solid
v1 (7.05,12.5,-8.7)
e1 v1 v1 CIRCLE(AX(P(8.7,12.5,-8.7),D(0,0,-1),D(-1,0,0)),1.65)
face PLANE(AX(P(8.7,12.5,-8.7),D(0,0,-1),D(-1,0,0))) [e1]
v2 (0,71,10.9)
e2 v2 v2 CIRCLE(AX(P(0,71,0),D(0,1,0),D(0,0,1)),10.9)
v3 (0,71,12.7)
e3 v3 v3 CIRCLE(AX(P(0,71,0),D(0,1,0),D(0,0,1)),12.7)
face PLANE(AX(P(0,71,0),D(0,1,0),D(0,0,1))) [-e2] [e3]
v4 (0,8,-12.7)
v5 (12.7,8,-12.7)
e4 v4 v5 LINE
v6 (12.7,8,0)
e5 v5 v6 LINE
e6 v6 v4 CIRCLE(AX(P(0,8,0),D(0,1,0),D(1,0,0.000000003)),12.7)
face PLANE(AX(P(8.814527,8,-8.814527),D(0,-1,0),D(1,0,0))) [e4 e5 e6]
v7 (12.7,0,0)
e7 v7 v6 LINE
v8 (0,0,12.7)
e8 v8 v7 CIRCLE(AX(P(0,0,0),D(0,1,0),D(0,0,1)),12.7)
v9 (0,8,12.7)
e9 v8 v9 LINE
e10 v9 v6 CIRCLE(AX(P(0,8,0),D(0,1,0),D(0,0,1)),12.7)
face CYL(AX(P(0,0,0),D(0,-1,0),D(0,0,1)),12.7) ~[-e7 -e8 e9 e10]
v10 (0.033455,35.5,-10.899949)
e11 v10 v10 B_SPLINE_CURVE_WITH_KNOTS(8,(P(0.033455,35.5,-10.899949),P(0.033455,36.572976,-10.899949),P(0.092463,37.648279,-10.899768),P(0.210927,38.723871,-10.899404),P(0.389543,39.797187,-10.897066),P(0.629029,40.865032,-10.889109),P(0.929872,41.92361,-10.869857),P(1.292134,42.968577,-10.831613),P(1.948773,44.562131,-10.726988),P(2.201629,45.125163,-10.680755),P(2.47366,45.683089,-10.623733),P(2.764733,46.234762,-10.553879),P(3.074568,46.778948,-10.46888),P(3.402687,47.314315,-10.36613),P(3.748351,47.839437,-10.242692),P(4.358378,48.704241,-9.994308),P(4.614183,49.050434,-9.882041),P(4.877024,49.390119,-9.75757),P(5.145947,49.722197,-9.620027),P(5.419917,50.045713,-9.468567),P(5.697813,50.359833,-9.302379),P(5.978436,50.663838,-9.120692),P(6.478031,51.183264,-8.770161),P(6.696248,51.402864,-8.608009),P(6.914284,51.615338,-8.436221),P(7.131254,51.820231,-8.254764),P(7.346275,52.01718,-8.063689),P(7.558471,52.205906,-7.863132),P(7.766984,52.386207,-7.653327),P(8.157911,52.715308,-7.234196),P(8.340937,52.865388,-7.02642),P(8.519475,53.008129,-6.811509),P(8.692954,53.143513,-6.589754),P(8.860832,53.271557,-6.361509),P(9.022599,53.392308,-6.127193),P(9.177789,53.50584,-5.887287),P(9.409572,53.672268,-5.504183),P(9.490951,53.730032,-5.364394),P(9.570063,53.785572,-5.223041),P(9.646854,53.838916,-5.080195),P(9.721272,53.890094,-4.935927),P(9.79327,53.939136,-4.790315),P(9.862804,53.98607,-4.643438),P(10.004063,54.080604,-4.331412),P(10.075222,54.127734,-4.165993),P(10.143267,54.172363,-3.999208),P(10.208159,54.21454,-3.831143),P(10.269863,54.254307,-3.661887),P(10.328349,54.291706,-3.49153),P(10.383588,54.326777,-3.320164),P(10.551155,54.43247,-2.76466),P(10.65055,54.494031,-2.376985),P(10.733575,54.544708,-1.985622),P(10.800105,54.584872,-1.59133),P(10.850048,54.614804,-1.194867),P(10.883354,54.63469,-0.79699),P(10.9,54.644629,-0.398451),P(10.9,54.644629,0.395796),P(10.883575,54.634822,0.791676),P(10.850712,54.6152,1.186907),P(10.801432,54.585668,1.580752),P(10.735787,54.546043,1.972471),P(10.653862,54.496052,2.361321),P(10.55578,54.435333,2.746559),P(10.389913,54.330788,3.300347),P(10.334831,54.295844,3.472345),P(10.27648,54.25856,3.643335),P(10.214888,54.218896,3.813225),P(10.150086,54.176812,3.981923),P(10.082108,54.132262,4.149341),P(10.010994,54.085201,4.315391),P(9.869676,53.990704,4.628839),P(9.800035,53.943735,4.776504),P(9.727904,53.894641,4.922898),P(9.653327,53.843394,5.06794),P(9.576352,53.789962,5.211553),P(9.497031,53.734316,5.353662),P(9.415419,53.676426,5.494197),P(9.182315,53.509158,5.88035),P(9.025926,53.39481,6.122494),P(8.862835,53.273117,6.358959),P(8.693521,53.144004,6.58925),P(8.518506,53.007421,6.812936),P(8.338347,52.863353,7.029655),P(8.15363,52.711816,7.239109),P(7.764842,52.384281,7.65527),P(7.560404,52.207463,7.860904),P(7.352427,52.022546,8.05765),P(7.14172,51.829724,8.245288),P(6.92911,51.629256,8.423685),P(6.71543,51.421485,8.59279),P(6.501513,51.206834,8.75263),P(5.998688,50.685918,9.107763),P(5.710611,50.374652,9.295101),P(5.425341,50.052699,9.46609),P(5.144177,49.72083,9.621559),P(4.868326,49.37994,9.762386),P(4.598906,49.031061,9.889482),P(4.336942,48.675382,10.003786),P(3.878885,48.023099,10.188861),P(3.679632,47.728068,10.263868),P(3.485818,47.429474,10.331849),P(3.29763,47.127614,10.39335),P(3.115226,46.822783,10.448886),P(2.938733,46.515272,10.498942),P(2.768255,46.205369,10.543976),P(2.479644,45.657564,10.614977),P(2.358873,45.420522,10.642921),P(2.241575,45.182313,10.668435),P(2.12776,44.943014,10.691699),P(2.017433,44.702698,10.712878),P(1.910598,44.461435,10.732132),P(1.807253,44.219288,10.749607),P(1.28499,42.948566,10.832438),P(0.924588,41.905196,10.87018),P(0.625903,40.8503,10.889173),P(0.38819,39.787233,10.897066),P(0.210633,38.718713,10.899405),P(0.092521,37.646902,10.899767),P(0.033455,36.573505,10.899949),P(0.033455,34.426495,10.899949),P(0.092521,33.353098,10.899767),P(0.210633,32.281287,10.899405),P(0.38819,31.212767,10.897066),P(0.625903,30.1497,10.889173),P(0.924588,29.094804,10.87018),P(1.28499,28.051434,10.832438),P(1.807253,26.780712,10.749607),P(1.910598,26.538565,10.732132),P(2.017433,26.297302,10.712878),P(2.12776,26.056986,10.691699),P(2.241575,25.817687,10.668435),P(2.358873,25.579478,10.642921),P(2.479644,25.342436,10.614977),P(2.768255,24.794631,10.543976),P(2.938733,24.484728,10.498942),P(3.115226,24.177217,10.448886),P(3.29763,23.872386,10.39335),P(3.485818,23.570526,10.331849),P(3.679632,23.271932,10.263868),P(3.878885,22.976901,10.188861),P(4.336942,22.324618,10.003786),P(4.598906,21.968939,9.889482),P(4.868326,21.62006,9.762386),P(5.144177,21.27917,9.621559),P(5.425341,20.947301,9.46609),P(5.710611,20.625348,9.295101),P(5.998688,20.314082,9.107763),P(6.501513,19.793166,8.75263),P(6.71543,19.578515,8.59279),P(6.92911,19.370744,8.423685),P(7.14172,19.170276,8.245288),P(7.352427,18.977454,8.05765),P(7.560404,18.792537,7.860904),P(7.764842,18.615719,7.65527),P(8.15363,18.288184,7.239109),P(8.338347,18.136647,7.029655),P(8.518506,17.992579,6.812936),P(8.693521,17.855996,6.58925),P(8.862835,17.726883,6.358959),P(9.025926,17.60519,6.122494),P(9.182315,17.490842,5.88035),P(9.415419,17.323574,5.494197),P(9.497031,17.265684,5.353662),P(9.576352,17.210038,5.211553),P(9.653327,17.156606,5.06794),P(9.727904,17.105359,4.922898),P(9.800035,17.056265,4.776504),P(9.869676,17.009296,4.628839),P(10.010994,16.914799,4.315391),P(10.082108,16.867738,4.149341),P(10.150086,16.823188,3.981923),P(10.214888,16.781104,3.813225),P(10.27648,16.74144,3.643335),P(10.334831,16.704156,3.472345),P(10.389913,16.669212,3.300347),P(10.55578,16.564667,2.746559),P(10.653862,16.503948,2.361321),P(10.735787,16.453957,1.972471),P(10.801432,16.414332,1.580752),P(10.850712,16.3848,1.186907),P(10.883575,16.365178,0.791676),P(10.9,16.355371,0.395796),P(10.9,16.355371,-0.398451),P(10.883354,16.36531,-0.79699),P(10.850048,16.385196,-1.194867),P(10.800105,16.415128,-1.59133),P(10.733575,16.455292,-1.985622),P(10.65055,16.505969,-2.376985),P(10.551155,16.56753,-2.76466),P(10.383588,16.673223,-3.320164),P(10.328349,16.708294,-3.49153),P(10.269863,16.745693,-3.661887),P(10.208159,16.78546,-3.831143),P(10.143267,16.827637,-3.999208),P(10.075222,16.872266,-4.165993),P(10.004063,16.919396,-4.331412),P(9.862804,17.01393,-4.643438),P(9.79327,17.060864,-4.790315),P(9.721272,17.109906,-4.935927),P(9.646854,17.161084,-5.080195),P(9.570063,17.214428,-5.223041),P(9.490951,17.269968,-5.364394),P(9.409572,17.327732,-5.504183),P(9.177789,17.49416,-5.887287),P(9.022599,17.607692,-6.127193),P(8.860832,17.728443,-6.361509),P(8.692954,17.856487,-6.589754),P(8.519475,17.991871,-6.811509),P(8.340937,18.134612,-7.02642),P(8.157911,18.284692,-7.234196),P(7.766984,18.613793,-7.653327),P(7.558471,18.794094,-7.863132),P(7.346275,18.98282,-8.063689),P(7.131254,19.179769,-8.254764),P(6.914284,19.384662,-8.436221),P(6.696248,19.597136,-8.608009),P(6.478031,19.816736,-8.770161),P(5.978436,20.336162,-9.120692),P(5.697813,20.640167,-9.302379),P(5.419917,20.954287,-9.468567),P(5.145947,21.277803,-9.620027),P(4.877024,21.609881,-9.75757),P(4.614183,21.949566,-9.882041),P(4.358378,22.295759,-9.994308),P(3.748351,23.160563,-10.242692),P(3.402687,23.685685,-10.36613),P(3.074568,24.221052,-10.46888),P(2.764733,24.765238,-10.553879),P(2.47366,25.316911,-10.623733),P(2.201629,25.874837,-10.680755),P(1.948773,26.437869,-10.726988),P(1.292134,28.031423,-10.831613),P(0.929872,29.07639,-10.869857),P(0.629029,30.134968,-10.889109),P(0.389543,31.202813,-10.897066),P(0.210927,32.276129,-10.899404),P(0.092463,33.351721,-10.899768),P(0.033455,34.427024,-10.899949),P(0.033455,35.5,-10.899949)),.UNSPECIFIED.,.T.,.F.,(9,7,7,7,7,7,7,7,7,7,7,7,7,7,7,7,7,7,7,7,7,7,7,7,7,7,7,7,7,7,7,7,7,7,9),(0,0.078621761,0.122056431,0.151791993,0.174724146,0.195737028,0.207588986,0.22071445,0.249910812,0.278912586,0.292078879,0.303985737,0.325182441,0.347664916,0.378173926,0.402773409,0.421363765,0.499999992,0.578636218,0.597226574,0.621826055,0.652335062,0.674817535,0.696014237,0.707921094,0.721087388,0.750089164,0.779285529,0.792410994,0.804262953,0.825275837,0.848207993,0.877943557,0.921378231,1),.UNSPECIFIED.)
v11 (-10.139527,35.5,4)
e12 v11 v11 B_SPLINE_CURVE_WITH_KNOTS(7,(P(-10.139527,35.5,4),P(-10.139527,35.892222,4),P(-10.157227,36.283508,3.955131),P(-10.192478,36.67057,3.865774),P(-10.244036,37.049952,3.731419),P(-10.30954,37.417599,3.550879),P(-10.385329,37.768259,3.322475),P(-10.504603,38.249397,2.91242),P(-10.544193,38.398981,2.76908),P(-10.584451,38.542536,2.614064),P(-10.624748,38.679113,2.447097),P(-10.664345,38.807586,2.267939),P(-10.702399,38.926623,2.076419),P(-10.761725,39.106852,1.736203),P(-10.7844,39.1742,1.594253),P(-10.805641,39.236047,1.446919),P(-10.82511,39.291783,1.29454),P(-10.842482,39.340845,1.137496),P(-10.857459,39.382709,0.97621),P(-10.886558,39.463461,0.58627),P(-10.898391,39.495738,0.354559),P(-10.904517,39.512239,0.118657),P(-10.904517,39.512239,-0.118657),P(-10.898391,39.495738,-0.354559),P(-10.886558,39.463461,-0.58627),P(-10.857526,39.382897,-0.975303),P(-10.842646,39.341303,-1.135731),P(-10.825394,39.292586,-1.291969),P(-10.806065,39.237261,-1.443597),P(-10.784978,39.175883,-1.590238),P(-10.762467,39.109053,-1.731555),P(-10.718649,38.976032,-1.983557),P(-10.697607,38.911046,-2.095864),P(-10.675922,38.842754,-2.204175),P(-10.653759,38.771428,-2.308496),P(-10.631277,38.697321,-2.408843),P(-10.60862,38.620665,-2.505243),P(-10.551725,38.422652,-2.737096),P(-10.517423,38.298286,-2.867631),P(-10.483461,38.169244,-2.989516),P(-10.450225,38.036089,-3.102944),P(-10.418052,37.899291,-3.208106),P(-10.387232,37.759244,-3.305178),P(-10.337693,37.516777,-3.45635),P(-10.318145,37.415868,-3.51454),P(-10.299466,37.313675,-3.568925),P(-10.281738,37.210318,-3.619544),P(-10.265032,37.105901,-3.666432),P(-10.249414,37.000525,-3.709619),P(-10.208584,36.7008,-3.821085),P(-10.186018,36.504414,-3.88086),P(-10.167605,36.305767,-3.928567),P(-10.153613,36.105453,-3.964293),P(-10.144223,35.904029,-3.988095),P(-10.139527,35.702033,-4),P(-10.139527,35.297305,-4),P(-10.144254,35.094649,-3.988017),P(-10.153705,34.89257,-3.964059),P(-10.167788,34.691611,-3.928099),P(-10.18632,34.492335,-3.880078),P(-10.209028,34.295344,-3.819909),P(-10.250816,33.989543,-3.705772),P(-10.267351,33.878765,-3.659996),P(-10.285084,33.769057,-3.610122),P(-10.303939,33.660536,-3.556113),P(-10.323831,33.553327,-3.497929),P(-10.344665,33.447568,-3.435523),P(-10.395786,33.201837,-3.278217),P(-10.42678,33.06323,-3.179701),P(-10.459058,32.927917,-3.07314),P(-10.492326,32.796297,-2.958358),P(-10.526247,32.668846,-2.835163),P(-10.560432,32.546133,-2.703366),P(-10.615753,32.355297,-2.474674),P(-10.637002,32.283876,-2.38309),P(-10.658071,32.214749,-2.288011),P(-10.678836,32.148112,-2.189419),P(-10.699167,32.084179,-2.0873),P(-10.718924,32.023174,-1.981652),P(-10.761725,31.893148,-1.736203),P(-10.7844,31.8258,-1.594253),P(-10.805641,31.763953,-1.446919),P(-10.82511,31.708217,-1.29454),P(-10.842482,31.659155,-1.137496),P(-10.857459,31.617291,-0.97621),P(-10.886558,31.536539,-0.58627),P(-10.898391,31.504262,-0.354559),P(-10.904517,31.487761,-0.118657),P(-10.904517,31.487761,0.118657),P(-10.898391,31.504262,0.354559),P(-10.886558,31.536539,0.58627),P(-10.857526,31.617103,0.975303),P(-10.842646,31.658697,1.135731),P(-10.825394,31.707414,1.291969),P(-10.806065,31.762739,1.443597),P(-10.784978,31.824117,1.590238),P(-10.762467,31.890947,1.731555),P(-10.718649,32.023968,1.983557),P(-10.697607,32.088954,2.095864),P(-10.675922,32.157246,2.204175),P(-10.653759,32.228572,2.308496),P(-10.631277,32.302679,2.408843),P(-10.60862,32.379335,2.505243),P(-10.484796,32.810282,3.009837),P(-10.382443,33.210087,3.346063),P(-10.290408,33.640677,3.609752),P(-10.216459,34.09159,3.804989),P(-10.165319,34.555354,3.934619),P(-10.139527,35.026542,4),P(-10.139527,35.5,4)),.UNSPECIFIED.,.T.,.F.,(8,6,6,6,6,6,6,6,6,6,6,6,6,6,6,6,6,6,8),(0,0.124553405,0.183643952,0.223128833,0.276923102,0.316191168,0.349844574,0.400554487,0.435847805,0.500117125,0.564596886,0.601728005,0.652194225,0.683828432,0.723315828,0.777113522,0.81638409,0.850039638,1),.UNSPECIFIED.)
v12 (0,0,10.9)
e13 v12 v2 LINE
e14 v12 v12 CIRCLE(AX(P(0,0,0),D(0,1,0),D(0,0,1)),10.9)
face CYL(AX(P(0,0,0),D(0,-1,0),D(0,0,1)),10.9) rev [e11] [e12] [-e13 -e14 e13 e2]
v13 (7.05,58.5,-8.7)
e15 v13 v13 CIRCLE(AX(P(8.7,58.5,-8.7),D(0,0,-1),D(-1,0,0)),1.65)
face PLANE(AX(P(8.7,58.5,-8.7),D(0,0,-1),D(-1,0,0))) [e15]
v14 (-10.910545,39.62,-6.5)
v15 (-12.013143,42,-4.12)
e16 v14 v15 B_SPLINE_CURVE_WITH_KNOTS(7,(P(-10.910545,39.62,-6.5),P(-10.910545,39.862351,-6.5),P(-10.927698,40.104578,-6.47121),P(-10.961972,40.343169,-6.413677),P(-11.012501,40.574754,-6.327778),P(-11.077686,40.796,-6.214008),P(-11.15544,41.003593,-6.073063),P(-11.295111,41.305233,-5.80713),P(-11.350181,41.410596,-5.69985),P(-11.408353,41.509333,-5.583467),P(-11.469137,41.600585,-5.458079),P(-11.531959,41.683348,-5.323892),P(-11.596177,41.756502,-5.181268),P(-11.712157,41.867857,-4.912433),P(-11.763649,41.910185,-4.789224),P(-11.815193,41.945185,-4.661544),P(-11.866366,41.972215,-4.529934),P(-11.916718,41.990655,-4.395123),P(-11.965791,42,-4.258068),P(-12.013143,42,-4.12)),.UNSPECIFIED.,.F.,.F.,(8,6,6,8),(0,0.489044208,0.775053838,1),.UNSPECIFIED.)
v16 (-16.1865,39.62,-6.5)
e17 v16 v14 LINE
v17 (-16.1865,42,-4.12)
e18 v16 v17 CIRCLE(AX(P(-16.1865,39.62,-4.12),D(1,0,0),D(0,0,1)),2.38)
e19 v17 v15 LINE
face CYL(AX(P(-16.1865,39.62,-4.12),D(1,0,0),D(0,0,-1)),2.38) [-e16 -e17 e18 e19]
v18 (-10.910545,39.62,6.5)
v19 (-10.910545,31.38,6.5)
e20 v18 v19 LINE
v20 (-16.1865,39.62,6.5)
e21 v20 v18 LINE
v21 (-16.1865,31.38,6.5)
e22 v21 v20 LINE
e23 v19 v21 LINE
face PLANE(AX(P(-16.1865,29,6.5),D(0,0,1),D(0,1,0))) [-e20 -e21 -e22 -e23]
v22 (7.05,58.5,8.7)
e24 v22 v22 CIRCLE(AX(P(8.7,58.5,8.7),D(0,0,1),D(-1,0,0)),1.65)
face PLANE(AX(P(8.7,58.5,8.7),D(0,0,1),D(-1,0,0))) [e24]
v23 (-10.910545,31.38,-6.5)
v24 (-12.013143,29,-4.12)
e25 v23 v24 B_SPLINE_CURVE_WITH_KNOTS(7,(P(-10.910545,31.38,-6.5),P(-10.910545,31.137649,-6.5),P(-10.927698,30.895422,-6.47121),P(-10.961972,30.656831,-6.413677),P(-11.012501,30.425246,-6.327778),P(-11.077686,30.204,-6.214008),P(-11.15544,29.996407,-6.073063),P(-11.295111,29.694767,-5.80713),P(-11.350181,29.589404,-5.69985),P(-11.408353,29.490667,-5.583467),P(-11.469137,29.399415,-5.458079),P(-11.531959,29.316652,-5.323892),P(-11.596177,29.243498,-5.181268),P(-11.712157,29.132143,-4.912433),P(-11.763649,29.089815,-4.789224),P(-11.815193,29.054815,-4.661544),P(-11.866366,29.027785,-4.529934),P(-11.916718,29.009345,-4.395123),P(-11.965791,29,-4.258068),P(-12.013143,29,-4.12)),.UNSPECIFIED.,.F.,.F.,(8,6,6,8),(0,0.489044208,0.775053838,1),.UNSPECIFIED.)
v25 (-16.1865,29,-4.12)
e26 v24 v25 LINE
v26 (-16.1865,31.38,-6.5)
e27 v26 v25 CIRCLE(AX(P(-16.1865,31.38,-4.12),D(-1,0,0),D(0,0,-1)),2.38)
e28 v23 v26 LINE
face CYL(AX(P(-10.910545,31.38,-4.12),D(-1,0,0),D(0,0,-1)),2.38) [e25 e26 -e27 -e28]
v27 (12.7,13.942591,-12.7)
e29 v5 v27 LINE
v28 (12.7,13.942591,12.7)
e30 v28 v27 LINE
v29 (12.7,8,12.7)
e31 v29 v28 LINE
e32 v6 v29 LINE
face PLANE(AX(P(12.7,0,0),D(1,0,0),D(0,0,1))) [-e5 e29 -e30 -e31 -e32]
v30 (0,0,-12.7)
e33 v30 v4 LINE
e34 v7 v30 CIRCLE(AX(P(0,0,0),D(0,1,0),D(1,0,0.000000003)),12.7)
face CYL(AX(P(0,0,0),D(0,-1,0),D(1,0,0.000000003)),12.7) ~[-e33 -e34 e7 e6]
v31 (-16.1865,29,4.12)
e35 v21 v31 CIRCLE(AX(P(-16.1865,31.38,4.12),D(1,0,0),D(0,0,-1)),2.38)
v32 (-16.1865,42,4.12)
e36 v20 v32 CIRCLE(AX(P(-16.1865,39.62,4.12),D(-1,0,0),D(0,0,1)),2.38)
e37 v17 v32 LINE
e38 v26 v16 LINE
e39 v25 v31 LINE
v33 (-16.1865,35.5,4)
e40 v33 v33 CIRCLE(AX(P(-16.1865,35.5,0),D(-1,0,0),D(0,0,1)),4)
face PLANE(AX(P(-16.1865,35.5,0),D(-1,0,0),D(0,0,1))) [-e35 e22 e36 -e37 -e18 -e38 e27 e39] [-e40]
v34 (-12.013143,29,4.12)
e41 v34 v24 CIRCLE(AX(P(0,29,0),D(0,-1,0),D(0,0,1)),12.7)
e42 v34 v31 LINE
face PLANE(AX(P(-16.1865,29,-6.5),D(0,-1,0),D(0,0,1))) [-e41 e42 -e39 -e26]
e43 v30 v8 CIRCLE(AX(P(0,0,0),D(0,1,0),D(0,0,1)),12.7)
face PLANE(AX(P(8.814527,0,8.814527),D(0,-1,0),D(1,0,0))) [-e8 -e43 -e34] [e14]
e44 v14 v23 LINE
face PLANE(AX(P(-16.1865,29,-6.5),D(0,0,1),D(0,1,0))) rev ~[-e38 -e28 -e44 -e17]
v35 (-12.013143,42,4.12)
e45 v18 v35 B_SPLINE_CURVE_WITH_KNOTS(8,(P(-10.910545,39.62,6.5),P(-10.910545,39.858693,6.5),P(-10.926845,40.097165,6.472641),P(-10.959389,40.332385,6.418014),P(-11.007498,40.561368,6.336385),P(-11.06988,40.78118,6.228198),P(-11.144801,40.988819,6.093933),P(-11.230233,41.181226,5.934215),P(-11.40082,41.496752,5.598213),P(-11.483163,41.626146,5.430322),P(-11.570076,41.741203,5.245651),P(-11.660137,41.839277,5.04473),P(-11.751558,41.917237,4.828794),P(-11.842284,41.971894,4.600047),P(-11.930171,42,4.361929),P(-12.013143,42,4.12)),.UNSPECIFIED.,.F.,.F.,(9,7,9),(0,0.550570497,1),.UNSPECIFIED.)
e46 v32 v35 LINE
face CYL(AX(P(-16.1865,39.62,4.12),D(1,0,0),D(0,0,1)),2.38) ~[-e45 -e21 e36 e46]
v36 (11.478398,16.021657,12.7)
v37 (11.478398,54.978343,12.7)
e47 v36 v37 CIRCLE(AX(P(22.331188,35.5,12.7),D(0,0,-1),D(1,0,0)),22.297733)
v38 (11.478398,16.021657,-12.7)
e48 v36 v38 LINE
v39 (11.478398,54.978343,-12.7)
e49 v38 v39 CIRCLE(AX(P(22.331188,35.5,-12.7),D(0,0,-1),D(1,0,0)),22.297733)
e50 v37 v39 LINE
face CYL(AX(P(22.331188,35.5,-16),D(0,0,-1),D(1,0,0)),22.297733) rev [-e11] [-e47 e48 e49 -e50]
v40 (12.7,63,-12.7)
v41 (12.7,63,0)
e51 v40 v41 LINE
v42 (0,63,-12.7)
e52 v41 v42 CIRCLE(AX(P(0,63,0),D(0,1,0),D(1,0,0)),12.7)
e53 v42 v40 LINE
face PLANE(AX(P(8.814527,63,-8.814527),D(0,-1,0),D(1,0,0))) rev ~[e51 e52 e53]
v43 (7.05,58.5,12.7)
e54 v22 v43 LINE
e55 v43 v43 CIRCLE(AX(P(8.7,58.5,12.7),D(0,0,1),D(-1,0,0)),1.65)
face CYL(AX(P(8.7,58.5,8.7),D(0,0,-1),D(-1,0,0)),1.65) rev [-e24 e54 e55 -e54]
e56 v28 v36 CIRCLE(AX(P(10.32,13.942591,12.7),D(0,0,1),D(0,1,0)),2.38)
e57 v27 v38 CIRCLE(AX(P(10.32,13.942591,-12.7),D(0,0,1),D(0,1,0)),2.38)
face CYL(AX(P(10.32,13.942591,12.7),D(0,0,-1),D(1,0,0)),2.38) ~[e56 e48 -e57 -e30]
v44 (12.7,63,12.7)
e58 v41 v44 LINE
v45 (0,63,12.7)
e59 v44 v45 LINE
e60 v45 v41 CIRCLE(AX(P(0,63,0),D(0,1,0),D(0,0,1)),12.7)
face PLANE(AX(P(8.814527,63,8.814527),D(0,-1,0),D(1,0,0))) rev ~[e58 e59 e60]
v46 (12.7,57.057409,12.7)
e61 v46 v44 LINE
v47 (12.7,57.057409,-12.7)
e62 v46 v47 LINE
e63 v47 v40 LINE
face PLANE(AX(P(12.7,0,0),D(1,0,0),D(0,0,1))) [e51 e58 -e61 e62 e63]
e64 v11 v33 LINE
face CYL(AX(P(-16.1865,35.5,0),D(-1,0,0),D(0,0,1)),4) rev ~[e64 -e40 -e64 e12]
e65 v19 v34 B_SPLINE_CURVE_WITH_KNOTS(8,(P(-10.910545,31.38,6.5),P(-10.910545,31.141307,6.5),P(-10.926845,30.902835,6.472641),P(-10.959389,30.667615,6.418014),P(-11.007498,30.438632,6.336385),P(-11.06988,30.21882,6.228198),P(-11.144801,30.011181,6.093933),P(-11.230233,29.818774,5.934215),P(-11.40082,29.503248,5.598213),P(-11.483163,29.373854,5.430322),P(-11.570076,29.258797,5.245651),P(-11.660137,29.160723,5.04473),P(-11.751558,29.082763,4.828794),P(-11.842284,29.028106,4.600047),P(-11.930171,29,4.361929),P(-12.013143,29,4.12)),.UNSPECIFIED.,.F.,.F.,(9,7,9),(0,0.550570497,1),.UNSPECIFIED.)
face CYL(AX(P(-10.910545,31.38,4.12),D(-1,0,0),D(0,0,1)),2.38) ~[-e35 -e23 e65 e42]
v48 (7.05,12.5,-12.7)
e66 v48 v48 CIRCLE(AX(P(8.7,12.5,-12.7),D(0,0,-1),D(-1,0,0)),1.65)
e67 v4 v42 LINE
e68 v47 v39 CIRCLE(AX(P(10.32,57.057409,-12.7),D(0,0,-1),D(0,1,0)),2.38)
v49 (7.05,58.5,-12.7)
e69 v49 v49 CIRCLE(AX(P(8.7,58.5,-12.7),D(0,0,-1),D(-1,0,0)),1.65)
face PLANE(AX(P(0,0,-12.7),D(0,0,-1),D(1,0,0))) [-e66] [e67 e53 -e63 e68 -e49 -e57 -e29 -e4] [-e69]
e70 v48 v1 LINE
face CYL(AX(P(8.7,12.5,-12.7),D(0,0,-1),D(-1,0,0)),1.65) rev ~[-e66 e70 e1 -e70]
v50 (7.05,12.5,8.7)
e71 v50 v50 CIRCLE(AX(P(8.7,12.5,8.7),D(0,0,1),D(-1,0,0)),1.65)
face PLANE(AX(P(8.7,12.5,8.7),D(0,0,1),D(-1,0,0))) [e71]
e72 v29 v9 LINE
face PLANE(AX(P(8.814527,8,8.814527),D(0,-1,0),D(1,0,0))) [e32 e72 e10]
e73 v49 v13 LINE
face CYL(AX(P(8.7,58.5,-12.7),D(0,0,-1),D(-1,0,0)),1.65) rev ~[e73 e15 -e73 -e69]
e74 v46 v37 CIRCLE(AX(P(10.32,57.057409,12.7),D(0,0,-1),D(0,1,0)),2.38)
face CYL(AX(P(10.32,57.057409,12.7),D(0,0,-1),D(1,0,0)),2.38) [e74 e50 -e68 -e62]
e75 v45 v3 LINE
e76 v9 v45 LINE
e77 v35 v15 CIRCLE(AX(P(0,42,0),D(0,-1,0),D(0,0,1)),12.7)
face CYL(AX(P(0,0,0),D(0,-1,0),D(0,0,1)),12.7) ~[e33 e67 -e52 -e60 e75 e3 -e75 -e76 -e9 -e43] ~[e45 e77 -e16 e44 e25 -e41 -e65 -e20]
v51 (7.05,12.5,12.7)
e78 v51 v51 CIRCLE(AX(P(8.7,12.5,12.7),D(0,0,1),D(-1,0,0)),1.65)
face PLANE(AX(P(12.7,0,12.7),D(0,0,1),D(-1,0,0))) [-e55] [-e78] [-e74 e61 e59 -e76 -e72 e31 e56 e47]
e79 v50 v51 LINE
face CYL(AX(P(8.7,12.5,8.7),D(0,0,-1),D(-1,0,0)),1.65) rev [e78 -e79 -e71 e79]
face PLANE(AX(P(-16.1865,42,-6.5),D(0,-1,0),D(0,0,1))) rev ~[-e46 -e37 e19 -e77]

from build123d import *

# Parameters (mm, degrees)
SKETCH1_R                = 12.7
SKETCH1_R_2              = 10.9
BOSS_EXTRUDE1_DEPTH      = 71
BOSS_EXTRUDE2_DEPTH      = 63
CUT_EXTRUDE1_DEPTH       = 8
CUT_EXTRUDE2_DEPTH       = 15
CUT_EXTRUDE2_DEPTH_BACK  = 16
SKETCH4_R                = 22.297733005
SKETCH5_R                = 1.65
CUT_EXTRUDE3_DEPTH       = 4
CUT_EXTRUDE4_START       = -4
SKETCH6_R                = 1.65
CUT_EXTRUDE4_DEPTH       = 4
BOSS_EXTRUDE3_DEPTH      = 6.5
BOSS_EXTRUDE3_DEPTH_BACK = 6.5
SKETCH15_R               = 4
CUT_EXTRUDE14_DEPTH      = 7.5
BOSS_EXTRUDE4_START      = 1.75
SKETCH16_W               = 13
SKETCH16_H               = 13
SKETCH16_R               = 4
BOSS_EXTRUDE4_DEPTH      = 1.75
FILLET1_R                = 2.38
FILLET2_R                = 2.38


with BuildPart() as part:
    # Sketch1 → Boss-Extrude1 (new body)
    with BuildSketch(Plane(origin=(0, 0, 0), x_dir=(1, 0, 0), z_dir=(0, 1, 0))):
        with Locations(Location((0, 0, 0), (0, 0, 270))):
            Circle(SKETCH1_R)
        with Locations(Location((0, 0, 0), (0, 0, 270))):
            Circle(SKETCH1_R_2, mode=Mode.SUBTRACT)
    extrude(amount=BOSS_EXTRUDE1_DEPTH)

    # Sketch2 → Boss-Extrude2 (add)
    with BuildSketch(Plane.XZ):
        with BuildLine():
            Line((12.7, 12.7), (0, 12.7))
            ThreePointArc((0, 12.7), (8.980256121, 8.980256121), (12.7, 0))
            Line((12.7, 0), (12.7, 12.7))
        make_face()
        with BuildLine():
            Line((12.7, -12.7), (12.7, 0))
            ThreePointArc((12.7, 0), (8.980256121, -8.980256121), (0, -12.7))
            Line((0, -12.7), (12.7, -12.7))
        make_face()
    extrude(amount=-BOSS_EXTRUDE2_DEPTH)

    # Sketch3 → Cut-Extrude1 (cut)
    with BuildSketch(Plane.XZ):
        with BuildLine():
            Line((12.7, 12.7), (0, 12.7))
            ThreePointArc((0, 12.7), (8.980256109, 8.980256133), (12.7, 3.4e-08))
            Line((12.7, 3.4e-08), (12.7, 12.7))
        make_face()
        with BuildLine():
            Line((12.7, -12.7), (12.7, 3.4e-08))
            ThreePointArc((12.7, 3.4e-08), (8.980256133, -8.980256109), (0, -12.7))
            Line((0, -12.7), (12.7, -12.7))
        make_face()
    extrude(amount=-CUT_EXTRUDE1_DEPTH, mode=Mode.SUBTRACT)

    # Sketch4 → Cut-Extrude2 (cut, two sides: drawn at the far end of the back side and taken through both)
    with BuildSketch(Plane.XY.offset(-CUT_EXTRUDE2_DEPTH_BACK)):
        with Locations((22.331187996, 35.5)):
            Circle(SKETCH4_R)
    extrude(amount=CUT_EXTRUDE2_DEPTH + CUT_EXTRUDE2_DEPTH_BACK, mode=Mode.SUBTRACT)

    # Sketch5 → Cut-Extrude3 (cut)
    with BuildSketch(Plane(origin=(0, 0, -12.7), x_dir=(-1, 0, 0), z_dir=(0, 0, -1))):
        with Locations((-8.7, 58.5)):
            Circle(SKETCH5_R)
        with Locations((-8.7, 12.5)):
            Circle(SKETCH5_R)
    extrude(amount=-CUT_EXTRUDE3_DEPTH, mode=Mode.SUBTRACT)

    # Sketch6 → Cut-Extrude4 (cut)
    with BuildSketch(Plane.XY.offset(12.7).offset(CUT_EXTRUDE4_START)):
        with Locations(Location((8.7, 58.5, 0), (0, 0, 180))):
            Circle(SKETCH6_R)
        with Locations(Location((8.7, 12.5, 0), (0, 0, 180))):
            Circle(SKETCH6_R)
    extrude(amount=CUT_EXTRUDE4_DEPTH, mode=Mode.SUBTRACT)

    # Sketch14 → Boss-Extrude3 (add, two sides: drawn at the far end of the back side and taken through both)
    with BuildSketch(Plane(origin=(0, 35.5, 0), x_dir=(1, 0, 0), z_dir=(0, 1, 0)).offset(-BOSS_EXTRUDE3_DEPTH_BACK)):
        with BuildLine():
            Line((-14.4365, -6.5), (-14.4365, 6.5))
            Line((-14.4365, 6.5), (-10.836564596, 6.5))
            ThreePointArc((-10.836564596, 6.5), (-12.6365, 0), (-10.836564596, -6.5))
            Line((-10.836564596, -6.5), (-14.4365, -6.5))
        make_face()
    extrude(amount=BOSS_EXTRUDE3_DEPTH + BOSS_EXTRUDE3_DEPTH_BACK)

    # Sketch15 → Cut-Extrude14 (cut)
    with BuildSketch(Plane.ZY.offset(14.4365)):
        with Locations((0, 35.5)):
            Circle(SKETCH15_R)
    extrude(amount=-CUT_EXTRUDE14_DEPTH, mode=Mode.SUBTRACT)

    # Sketch16 → Boss-Extrude4 (add)
    with BuildSketch(Plane.ZY.offset(14.4365).offset(BOSS_EXTRUDE4_START)):
        with Locations((0, 35.5)):
            Rectangle(SKETCH16_W, SKETCH16_H)
        with Locations((0, 35.5)):
            Circle(SKETCH16_R, mode=Mode.SUBTRACT)
    extrude(amount=-BOSS_EXTRUDE4_DEPTH)

    # Fillet1
    fillet1_edges = [part.edges().sort_by_distance(p)[0] for p in [
        (-13.548522679, 29, 6.5),
        (-13.548522679, 29, -6.5),
        (-13.548522679, 42, -6.5),
        (-13.548522679, 42, 6.5),
    ]]
    fillet(fillet1_edges, radius=FILLET1_R)

    # Fillet2
    fillet2_edges = [part.edges().sort_by_distance(p)[0] for p in [
        (12.7, 15.389576958, 0),
        (12.7, 55.610423042, 0),
    ]]
    fillet(fillet2_edges, radius=FILLET2_R)


solid = part.part
